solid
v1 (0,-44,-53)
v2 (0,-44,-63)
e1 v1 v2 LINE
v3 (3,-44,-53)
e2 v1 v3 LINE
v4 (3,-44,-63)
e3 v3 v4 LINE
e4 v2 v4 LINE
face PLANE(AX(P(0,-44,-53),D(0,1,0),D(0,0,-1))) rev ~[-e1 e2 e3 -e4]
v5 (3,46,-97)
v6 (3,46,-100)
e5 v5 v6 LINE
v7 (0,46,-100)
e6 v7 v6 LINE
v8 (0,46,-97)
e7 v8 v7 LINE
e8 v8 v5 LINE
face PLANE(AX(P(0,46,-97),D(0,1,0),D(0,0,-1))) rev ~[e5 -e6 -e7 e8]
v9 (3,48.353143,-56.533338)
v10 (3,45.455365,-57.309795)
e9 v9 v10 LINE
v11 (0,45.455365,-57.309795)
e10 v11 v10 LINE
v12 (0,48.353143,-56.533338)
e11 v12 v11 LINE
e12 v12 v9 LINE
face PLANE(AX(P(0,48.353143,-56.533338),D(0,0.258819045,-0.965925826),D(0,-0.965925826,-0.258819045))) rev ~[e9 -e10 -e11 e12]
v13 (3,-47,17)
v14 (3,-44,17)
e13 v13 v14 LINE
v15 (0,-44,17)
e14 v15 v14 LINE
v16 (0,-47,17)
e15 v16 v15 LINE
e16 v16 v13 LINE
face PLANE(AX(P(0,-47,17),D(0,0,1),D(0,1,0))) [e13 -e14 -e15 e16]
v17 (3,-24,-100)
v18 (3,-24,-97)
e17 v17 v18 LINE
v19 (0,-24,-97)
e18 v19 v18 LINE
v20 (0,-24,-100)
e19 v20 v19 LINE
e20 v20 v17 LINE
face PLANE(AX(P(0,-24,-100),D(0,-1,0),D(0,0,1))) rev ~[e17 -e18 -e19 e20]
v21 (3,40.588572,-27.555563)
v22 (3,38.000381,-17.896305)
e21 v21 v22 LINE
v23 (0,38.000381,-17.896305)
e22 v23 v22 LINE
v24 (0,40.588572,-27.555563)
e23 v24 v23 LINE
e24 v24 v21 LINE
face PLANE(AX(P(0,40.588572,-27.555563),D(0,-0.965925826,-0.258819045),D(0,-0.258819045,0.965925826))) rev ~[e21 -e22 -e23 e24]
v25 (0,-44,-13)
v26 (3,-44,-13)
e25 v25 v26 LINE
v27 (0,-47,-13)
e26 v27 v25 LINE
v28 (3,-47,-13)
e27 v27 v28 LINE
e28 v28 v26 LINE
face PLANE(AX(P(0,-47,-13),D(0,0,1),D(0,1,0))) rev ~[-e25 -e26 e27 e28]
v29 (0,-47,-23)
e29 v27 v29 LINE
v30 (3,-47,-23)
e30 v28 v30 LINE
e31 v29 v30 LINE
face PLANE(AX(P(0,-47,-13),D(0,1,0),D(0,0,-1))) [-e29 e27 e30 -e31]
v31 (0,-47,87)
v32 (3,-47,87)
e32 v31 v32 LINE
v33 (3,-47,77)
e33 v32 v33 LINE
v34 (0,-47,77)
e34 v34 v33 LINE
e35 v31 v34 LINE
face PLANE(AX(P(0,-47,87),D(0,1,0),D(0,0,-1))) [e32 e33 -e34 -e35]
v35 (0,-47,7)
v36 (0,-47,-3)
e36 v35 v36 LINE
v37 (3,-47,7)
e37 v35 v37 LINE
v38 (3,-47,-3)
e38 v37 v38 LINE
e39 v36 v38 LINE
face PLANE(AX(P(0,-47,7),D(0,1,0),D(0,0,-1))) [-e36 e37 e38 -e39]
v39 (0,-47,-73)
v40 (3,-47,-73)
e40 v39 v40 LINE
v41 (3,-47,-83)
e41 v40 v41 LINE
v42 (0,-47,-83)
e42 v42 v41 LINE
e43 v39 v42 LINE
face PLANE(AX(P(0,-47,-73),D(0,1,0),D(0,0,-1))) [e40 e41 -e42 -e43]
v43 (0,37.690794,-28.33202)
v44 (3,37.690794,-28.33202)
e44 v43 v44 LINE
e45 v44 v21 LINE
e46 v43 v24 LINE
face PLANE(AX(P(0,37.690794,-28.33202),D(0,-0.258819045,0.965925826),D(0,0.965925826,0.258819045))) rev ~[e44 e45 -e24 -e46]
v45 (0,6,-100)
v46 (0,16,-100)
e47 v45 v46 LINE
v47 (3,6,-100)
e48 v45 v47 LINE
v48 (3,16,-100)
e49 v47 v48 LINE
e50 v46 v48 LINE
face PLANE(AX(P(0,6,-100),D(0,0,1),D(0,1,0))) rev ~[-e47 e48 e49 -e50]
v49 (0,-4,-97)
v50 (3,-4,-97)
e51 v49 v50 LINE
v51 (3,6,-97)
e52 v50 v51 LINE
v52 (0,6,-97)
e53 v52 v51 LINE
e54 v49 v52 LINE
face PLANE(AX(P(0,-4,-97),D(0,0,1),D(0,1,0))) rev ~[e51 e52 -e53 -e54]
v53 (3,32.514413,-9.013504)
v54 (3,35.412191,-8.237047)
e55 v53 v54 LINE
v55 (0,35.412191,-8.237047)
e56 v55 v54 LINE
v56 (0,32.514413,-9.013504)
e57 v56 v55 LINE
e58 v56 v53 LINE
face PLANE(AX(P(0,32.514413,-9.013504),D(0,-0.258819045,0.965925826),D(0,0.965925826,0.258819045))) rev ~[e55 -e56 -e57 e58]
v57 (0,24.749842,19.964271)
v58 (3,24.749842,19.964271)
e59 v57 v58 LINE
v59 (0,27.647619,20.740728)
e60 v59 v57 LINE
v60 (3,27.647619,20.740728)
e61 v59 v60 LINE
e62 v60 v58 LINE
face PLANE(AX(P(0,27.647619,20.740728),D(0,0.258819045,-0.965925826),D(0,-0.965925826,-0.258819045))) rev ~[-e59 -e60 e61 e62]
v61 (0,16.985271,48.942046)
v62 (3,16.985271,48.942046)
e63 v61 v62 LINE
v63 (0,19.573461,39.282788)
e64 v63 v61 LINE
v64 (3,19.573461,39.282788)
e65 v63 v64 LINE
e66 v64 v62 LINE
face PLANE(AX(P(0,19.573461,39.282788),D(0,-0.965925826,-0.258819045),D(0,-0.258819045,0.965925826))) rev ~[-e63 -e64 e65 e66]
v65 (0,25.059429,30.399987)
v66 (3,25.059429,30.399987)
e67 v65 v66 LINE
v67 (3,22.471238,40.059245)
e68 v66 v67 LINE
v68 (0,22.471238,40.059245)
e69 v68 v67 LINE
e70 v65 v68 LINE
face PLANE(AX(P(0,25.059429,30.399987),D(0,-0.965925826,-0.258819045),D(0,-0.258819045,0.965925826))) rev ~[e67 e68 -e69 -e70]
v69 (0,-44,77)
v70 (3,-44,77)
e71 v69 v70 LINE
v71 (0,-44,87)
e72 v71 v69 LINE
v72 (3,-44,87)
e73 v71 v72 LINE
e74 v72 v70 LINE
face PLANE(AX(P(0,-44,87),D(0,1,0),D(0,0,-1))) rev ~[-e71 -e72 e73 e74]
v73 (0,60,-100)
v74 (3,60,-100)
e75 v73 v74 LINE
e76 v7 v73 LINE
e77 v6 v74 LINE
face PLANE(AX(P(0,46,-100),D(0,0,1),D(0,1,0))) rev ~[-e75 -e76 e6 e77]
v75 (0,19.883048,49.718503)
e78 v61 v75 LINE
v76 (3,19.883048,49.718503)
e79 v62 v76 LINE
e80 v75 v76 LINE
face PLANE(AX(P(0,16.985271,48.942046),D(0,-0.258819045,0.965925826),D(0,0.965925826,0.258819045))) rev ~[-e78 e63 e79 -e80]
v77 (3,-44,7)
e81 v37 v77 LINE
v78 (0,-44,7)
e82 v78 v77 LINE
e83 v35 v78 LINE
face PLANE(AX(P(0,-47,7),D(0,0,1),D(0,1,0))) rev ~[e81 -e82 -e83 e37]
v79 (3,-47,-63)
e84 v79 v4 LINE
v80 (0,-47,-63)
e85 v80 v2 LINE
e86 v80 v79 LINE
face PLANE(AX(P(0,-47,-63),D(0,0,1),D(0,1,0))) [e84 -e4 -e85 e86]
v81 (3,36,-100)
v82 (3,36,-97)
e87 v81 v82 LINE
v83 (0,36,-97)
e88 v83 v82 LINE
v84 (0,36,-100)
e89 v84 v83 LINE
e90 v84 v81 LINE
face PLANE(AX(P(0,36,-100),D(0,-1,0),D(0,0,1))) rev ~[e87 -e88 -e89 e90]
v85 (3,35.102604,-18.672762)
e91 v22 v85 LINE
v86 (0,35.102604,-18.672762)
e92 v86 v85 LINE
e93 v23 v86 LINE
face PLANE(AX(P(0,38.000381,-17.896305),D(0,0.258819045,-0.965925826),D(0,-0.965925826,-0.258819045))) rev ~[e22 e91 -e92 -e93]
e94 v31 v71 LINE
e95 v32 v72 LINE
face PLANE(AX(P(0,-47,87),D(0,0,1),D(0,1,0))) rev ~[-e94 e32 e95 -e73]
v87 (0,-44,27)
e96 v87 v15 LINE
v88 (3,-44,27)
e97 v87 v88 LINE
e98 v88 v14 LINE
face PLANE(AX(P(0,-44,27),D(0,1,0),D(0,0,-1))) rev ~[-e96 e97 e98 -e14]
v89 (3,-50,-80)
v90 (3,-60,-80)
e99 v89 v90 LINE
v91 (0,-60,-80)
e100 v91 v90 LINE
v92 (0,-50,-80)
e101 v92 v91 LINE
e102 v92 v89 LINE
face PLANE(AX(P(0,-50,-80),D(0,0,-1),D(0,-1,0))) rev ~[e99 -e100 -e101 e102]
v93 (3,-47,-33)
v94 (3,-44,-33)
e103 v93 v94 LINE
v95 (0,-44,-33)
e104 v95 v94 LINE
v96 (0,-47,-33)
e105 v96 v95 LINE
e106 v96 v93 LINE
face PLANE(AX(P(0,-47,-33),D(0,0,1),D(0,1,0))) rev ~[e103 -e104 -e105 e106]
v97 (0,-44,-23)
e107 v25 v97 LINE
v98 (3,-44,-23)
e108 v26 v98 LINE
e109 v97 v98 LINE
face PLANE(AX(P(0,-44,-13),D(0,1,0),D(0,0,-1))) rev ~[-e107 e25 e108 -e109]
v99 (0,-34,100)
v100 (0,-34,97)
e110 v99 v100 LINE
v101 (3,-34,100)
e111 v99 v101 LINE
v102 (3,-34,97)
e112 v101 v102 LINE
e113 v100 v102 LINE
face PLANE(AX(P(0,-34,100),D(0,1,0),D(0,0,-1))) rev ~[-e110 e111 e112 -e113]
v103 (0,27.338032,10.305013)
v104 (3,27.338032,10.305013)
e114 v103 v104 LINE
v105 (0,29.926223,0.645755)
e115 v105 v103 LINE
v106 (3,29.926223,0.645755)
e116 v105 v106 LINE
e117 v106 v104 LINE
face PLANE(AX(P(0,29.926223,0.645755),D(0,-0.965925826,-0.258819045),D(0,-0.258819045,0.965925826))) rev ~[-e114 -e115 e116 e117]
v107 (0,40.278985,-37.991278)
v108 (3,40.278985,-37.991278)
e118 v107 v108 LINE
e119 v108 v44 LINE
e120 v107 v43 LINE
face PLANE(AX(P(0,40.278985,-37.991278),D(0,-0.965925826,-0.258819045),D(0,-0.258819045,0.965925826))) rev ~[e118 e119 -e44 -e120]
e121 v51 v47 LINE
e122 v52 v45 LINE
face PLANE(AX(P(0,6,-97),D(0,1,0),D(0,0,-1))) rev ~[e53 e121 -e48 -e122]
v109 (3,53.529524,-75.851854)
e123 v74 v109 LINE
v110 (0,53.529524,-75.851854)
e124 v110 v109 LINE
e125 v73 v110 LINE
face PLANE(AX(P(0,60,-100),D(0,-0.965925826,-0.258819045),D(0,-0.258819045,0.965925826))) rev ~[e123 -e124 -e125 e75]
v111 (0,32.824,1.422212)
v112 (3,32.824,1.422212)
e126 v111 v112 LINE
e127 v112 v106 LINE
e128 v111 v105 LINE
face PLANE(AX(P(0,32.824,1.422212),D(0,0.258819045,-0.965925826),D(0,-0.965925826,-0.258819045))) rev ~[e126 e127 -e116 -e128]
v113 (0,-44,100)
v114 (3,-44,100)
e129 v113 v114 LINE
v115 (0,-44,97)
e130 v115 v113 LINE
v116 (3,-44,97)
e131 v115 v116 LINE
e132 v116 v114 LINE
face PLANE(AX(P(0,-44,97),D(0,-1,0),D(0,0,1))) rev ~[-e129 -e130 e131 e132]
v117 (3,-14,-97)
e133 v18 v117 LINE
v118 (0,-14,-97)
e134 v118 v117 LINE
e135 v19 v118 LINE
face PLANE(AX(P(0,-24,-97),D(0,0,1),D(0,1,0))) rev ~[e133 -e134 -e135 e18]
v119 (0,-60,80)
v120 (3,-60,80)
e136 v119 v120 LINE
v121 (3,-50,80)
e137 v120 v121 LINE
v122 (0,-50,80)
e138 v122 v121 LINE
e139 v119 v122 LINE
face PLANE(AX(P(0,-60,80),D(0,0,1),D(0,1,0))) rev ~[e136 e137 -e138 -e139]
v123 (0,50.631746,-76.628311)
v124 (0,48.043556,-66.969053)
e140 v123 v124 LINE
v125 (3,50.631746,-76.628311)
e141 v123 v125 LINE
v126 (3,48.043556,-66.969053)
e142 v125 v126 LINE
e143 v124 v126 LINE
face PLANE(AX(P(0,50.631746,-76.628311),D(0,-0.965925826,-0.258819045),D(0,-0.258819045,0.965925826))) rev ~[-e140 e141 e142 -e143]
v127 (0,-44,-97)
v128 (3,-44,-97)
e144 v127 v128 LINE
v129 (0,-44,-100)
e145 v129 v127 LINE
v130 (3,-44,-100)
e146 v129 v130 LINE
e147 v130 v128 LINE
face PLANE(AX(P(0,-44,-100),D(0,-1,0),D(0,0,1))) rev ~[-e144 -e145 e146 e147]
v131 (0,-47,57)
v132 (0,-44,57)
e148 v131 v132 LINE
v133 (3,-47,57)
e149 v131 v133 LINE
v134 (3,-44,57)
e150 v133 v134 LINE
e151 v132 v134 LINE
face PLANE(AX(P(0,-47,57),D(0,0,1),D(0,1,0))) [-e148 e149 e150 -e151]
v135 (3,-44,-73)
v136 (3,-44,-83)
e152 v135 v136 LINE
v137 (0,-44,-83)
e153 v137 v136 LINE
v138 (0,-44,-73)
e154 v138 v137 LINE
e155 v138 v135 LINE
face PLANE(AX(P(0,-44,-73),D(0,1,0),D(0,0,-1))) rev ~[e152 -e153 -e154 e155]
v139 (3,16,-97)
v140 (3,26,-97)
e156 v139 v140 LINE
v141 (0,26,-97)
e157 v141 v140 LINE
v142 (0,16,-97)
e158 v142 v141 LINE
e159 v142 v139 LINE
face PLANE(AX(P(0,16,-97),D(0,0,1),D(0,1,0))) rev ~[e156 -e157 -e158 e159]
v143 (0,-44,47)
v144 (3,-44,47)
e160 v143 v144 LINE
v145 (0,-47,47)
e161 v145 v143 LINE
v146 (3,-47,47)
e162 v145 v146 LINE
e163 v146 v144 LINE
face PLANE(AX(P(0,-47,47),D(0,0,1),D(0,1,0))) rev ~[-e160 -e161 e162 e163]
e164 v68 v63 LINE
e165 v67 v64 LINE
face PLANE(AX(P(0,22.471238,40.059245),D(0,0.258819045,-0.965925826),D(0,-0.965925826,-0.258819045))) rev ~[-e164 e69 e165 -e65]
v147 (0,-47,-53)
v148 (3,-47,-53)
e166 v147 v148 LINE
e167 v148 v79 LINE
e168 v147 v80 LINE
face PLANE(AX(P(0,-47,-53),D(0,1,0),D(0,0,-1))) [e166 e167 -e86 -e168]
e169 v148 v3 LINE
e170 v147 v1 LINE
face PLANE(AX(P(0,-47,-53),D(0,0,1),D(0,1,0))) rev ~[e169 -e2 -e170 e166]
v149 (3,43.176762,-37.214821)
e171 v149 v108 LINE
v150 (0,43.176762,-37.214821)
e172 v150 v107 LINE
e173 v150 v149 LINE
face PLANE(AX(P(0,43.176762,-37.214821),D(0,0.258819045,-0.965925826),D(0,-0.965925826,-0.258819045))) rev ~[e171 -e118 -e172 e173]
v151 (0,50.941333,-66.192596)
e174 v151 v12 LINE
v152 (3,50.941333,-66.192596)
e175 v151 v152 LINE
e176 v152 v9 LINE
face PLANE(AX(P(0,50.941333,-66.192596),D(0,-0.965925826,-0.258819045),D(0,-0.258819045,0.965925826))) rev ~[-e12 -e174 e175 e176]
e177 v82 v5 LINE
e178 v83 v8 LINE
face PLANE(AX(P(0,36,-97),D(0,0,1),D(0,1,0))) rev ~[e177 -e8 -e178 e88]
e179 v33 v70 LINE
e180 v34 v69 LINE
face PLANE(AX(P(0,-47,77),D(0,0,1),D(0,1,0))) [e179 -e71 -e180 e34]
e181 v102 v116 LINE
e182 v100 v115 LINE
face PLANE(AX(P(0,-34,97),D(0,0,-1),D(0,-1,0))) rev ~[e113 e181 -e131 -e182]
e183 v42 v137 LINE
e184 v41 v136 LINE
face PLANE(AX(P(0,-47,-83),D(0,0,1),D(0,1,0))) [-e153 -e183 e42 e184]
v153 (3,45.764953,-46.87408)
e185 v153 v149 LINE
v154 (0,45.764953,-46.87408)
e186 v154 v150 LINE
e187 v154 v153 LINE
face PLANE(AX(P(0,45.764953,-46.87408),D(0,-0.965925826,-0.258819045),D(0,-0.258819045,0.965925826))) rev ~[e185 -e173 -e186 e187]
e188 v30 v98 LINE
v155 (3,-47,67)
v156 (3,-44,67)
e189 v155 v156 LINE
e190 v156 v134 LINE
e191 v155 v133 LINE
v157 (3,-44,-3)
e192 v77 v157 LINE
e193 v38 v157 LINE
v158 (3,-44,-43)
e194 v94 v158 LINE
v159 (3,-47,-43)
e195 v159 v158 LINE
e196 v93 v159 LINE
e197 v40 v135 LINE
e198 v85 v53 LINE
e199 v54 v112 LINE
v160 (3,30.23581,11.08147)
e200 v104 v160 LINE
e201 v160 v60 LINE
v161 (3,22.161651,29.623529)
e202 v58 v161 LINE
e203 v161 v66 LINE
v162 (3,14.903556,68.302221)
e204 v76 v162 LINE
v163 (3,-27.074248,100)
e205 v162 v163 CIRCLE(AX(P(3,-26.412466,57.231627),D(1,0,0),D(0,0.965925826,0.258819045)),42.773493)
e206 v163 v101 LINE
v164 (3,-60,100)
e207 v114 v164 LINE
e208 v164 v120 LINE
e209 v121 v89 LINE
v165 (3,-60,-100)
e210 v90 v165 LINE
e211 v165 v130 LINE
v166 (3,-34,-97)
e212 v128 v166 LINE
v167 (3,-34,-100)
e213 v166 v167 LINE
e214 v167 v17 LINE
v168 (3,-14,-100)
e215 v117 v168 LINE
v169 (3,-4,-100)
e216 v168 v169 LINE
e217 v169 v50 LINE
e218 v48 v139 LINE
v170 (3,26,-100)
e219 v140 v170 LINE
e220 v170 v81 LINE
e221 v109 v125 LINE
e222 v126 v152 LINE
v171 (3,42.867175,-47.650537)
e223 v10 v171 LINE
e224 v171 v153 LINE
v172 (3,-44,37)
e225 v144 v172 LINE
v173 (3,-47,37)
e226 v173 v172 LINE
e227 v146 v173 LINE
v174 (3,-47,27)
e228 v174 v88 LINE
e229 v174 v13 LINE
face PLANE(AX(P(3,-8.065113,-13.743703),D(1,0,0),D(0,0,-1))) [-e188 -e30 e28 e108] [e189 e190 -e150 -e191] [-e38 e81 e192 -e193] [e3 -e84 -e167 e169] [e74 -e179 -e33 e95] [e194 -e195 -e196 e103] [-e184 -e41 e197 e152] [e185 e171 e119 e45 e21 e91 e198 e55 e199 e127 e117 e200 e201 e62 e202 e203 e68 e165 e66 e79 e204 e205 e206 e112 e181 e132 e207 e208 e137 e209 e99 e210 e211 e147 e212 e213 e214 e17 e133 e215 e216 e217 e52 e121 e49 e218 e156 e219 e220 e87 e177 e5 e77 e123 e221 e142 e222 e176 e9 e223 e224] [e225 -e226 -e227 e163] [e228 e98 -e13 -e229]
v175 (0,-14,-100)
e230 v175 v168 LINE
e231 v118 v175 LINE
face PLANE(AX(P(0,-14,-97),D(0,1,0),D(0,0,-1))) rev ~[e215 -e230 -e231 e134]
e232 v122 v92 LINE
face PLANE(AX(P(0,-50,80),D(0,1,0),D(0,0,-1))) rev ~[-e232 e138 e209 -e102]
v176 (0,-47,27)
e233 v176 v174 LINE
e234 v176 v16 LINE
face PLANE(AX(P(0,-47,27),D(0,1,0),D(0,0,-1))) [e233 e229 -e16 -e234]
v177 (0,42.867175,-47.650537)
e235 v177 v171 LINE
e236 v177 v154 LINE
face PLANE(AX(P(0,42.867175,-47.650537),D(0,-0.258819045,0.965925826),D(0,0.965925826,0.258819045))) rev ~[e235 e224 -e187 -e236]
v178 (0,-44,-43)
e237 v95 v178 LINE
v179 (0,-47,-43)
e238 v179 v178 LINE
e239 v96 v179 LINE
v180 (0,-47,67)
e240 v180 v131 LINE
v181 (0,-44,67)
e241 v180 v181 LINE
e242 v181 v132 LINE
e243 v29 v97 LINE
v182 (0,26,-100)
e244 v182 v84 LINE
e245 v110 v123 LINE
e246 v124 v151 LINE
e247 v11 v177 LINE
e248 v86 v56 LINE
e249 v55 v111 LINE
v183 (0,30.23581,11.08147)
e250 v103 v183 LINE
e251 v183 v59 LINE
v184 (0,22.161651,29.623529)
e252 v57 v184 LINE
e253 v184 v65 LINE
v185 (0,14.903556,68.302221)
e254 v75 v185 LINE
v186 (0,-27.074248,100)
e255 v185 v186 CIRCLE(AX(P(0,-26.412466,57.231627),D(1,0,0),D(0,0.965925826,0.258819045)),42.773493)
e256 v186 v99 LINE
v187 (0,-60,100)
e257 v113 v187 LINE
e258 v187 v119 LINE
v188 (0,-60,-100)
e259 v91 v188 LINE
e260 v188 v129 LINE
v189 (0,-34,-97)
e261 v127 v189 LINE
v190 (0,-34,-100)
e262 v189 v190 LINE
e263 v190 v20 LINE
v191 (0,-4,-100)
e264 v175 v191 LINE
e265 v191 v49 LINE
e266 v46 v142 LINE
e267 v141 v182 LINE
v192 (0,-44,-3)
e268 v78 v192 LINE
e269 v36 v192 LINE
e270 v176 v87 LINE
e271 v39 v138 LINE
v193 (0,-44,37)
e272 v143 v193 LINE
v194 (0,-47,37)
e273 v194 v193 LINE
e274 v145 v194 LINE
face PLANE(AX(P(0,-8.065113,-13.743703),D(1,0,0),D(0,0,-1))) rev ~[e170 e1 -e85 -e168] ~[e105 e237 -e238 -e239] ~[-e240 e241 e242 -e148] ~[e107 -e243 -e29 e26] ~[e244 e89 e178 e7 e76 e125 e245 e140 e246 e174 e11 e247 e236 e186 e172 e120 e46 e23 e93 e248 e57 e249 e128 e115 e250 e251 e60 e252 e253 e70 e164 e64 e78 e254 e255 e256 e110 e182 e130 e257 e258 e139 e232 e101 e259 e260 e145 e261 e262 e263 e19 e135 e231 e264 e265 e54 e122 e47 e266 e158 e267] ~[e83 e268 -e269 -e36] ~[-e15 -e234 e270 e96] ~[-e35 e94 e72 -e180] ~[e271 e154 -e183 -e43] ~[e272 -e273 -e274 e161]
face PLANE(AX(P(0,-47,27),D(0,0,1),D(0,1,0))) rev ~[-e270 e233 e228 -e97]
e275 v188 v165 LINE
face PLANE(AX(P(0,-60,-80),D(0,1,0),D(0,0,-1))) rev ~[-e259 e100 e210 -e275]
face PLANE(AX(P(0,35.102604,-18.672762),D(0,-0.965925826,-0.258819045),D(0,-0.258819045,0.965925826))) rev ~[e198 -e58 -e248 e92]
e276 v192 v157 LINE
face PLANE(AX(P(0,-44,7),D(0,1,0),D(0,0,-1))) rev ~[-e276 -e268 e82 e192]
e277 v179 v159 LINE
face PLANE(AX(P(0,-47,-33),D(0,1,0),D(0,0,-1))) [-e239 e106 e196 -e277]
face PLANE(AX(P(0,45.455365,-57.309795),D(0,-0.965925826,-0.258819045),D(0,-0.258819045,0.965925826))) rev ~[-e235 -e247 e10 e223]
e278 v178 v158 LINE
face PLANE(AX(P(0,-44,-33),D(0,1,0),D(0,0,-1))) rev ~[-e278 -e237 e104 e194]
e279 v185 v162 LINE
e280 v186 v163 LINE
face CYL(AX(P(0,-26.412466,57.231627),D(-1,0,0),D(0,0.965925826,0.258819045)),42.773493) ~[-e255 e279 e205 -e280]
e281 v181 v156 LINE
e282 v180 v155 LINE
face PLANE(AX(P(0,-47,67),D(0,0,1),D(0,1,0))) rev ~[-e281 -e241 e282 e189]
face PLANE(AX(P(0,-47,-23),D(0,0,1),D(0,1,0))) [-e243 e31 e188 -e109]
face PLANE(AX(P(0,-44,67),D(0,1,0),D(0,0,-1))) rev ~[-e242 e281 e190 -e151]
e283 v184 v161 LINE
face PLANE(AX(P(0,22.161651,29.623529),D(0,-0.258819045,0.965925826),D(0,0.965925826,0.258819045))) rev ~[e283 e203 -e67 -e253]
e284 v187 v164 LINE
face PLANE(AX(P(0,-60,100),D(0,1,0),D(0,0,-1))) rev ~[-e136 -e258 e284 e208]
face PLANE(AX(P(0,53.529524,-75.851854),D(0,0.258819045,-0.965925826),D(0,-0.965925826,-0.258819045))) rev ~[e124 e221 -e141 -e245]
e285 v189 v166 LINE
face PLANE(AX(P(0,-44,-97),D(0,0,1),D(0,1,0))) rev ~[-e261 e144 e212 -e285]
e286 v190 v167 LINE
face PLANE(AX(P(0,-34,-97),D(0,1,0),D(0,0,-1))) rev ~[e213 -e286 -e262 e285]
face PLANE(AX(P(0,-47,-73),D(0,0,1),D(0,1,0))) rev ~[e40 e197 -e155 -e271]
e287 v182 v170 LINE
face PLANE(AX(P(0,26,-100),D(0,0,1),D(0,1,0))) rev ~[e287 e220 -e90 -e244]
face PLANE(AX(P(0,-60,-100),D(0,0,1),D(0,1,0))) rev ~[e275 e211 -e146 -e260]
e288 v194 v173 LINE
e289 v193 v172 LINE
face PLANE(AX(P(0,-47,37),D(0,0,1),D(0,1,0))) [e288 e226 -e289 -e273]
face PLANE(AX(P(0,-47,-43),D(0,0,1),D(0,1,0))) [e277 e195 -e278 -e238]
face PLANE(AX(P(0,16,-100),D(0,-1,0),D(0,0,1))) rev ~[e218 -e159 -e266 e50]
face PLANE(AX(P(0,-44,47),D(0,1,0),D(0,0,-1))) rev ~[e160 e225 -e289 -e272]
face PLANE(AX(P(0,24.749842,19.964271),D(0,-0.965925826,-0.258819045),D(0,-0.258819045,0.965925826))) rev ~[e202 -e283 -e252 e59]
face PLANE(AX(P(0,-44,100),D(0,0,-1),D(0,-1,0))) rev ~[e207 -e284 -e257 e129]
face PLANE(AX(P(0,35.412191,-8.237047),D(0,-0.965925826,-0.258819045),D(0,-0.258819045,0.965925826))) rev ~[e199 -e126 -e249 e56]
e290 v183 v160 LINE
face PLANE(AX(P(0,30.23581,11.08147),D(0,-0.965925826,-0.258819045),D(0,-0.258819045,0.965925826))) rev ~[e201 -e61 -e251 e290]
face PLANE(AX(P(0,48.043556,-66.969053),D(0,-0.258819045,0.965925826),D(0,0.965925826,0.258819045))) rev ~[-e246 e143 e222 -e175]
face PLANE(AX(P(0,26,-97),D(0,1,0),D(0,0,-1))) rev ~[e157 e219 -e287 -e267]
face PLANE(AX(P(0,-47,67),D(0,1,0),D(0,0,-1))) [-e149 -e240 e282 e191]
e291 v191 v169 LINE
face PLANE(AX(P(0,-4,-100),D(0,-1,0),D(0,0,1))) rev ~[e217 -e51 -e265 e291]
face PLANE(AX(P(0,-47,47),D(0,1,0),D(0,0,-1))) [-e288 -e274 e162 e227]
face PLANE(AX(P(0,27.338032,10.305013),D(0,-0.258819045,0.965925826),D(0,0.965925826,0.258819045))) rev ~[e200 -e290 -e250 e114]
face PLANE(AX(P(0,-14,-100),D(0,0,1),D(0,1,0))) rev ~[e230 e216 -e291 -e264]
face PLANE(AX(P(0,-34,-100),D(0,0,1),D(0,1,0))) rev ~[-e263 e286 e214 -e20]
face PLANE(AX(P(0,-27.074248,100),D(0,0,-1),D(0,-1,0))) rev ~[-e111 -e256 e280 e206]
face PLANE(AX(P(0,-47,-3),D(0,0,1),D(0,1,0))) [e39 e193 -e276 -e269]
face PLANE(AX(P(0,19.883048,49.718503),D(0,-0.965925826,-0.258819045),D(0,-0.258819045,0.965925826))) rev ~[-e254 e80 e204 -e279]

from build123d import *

# Parameters (mm, degrees)
SKETCH1_W           = 10
SKETCH1_H           = 3
BOSS_EXTRUDE1_DEPTH = 3


with BuildPart() as part:
    # Sketch1 → Boss-Extrude1 (new body)
    with BuildSketch(Plane(origin=(0, 0, 0), x_dir=(0, 0, -1), z_dir=(1, 0, 0))):
        with BuildLine():
            Line((-100, -44), (-100, -60))
            Line((-100, -60), (-80, -60))
            Line((-80, -60), (-80, -50))
            Line((-80, -50), (80, -50))
            Line((80, -50), (80, -60))
            Line((80, -60), (100, -60))
            Line((100, -60), (100, -44))
            Line((100, -44), (97, -44))
            Line((97, -44), (97, -34))
            Line((97, -34), (100, -34))
            Line((100, -34), (100, -24))
            Line((100, -24), (97, -24))
            Line((97, -24), (97, -14))
            Line((97, -14), (100, -14))
            Line((100, -14), (100, -4))
            Line((100, -4), (97, -4))
            Line((97, -4), (97, 6))
            Line((97, 6), (100, 6))
            Line((100, 6), (100, 16))
            Line((100, 16), (97, 16))
            Line((97, 16), (97, 26))
            Line((97, 26), (100, 26))
            Line((100, 26), (100, 36))
            Line((100, 36), (97, 36))
            Line((97, 36), (97, 46))
            Line((97, 46), (100, 46))
            Line((100, 46), (100, 60))
            Line((100, 60), (75.851854343, 53.529523872))
            Line((75.851854343, 53.529523872), (76.628311478, 50.631746394))
            Line((76.628311478, 50.631746394), (66.969053215, 48.043555943))
            Line((66.969053215, 48.043555943), (66.19259608, 50.941333421))
            Line((66.19259608, 50.941333421), (56.533337817, 48.35314297))
            Line((56.533337817, 48.35314297), (57.309794952, 45.455365492))
            Line((57.309794952, 45.455365492), (47.650536689, 42.86717504))
            Line((47.650536689, 42.86717504), (46.874079554, 45.764952519))
            Line((46.874079554, 45.764952519), (37.214821291, 43.176762068))
            Line((37.214821291, 43.176762068), (37.991278427, 40.278984589))
            Line((37.991278427, 40.278984589), (28.332020164, 37.690794138))
            Line((28.332020164, 37.690794138), (27.555563028, 40.588571617))
            Line((27.555563028, 40.588571617), (17.896304765, 38.000381166))
            Line((17.896304765, 38.000381166), (18.672761901, 35.102603687))
            Line((18.672761901, 35.102603687), (9.013503638, 32.514413236))
            Line((9.013503638, 32.514413236), (8.237046503, 35.412190715))
            Line((8.237046503, 35.412190715), (-1.42221176, 32.824000264))
            Line((-1.42221176, 32.824000264), (-0.645754625, 29.926222785))
            Line((-0.645754625, 29.926222785), (-10.305012888, 27.338032334))
            Line((-10.305012888, 27.338032334), (-11.081470023, 30.235809813))
            Line((-11.081470023, 30.235809813), (-20.740728286, 27.647619362))
            Line((-20.740728286, 27.647619362), (-19.964271151, 24.749841883))
            Line((-19.964271151, 24.749841883), (-29.623529414, 22.161651432))
            Line((-29.623529414, 22.161651432), (-30.399986549, 25.059428911))
            Line((-30.399986549, 25.059428911), (-40.059244812, 22.47123846))
            Line((-40.059244812, 22.47123846), (-39.282787677, 19.573460981))
            Line((-39.282787677, 19.573460981), (-48.942045939, 16.98527053))
            Line((-48.942045939, 16.98527053), (-49.718503075, 19.883048009))
            Line((-49.718503075, 19.883048009), (-68.302221487, 14.903555668))
            ThreePointArc((-68.302221487, 14.903555668), (-91.366544651, -0.636913735), (-100, -27.074247963))
            Line((-100, -27.074247963), (-100, -34))
            Line((-100, -34), (-97, -34))
            Line((-97, -34), (-97, -44))
            Line((-97, -44), (-100, -44))
        make_face()
        with Locations((-82, -45.5)):
            Rectangle(SKETCH1_W, SKETCH1_H, mode=Mode.SUBTRACT)
        with Locations((-62, -45.5)):
            Rectangle(SKETCH1_W, SKETCH1_H, mode=Mode.SUBTRACT)
        with Locations((-42, -45.5)):
            Rectangle(SKETCH1_W, SKETCH1_H, mode=Mode.SUBTRACT)
        with Locations((-22, -45.5)):
            Rectangle(SKETCH1_W, SKETCH1_H, mode=Mode.SUBTRACT)
        with Locations((-2, -45.5)):
            Rectangle(SKETCH1_W, SKETCH1_H, mode=Mode.SUBTRACT)
        with Locations((18, -45.5)):
            Rectangle(SKETCH1_W, SKETCH1_H, mode=Mode.SUBTRACT)
        with Locations((38, -45.5)):
            Rectangle(SKETCH1_W, SKETCH1_H, mode=Mode.SUBTRACT)
        with Locations((58, -45.5)):
            Rectangle(SKETCH1_W, SKETCH1_H, mode=Mode.SUBTRACT)
        with Locations((78, -45.5)):
            Rectangle(SKETCH1_W, SKETCH1_H, mode=Mode.SUBTRACT)
    extrude(amount=BOSS_EXTRUDE1_DEPTH)


solid = part.part
